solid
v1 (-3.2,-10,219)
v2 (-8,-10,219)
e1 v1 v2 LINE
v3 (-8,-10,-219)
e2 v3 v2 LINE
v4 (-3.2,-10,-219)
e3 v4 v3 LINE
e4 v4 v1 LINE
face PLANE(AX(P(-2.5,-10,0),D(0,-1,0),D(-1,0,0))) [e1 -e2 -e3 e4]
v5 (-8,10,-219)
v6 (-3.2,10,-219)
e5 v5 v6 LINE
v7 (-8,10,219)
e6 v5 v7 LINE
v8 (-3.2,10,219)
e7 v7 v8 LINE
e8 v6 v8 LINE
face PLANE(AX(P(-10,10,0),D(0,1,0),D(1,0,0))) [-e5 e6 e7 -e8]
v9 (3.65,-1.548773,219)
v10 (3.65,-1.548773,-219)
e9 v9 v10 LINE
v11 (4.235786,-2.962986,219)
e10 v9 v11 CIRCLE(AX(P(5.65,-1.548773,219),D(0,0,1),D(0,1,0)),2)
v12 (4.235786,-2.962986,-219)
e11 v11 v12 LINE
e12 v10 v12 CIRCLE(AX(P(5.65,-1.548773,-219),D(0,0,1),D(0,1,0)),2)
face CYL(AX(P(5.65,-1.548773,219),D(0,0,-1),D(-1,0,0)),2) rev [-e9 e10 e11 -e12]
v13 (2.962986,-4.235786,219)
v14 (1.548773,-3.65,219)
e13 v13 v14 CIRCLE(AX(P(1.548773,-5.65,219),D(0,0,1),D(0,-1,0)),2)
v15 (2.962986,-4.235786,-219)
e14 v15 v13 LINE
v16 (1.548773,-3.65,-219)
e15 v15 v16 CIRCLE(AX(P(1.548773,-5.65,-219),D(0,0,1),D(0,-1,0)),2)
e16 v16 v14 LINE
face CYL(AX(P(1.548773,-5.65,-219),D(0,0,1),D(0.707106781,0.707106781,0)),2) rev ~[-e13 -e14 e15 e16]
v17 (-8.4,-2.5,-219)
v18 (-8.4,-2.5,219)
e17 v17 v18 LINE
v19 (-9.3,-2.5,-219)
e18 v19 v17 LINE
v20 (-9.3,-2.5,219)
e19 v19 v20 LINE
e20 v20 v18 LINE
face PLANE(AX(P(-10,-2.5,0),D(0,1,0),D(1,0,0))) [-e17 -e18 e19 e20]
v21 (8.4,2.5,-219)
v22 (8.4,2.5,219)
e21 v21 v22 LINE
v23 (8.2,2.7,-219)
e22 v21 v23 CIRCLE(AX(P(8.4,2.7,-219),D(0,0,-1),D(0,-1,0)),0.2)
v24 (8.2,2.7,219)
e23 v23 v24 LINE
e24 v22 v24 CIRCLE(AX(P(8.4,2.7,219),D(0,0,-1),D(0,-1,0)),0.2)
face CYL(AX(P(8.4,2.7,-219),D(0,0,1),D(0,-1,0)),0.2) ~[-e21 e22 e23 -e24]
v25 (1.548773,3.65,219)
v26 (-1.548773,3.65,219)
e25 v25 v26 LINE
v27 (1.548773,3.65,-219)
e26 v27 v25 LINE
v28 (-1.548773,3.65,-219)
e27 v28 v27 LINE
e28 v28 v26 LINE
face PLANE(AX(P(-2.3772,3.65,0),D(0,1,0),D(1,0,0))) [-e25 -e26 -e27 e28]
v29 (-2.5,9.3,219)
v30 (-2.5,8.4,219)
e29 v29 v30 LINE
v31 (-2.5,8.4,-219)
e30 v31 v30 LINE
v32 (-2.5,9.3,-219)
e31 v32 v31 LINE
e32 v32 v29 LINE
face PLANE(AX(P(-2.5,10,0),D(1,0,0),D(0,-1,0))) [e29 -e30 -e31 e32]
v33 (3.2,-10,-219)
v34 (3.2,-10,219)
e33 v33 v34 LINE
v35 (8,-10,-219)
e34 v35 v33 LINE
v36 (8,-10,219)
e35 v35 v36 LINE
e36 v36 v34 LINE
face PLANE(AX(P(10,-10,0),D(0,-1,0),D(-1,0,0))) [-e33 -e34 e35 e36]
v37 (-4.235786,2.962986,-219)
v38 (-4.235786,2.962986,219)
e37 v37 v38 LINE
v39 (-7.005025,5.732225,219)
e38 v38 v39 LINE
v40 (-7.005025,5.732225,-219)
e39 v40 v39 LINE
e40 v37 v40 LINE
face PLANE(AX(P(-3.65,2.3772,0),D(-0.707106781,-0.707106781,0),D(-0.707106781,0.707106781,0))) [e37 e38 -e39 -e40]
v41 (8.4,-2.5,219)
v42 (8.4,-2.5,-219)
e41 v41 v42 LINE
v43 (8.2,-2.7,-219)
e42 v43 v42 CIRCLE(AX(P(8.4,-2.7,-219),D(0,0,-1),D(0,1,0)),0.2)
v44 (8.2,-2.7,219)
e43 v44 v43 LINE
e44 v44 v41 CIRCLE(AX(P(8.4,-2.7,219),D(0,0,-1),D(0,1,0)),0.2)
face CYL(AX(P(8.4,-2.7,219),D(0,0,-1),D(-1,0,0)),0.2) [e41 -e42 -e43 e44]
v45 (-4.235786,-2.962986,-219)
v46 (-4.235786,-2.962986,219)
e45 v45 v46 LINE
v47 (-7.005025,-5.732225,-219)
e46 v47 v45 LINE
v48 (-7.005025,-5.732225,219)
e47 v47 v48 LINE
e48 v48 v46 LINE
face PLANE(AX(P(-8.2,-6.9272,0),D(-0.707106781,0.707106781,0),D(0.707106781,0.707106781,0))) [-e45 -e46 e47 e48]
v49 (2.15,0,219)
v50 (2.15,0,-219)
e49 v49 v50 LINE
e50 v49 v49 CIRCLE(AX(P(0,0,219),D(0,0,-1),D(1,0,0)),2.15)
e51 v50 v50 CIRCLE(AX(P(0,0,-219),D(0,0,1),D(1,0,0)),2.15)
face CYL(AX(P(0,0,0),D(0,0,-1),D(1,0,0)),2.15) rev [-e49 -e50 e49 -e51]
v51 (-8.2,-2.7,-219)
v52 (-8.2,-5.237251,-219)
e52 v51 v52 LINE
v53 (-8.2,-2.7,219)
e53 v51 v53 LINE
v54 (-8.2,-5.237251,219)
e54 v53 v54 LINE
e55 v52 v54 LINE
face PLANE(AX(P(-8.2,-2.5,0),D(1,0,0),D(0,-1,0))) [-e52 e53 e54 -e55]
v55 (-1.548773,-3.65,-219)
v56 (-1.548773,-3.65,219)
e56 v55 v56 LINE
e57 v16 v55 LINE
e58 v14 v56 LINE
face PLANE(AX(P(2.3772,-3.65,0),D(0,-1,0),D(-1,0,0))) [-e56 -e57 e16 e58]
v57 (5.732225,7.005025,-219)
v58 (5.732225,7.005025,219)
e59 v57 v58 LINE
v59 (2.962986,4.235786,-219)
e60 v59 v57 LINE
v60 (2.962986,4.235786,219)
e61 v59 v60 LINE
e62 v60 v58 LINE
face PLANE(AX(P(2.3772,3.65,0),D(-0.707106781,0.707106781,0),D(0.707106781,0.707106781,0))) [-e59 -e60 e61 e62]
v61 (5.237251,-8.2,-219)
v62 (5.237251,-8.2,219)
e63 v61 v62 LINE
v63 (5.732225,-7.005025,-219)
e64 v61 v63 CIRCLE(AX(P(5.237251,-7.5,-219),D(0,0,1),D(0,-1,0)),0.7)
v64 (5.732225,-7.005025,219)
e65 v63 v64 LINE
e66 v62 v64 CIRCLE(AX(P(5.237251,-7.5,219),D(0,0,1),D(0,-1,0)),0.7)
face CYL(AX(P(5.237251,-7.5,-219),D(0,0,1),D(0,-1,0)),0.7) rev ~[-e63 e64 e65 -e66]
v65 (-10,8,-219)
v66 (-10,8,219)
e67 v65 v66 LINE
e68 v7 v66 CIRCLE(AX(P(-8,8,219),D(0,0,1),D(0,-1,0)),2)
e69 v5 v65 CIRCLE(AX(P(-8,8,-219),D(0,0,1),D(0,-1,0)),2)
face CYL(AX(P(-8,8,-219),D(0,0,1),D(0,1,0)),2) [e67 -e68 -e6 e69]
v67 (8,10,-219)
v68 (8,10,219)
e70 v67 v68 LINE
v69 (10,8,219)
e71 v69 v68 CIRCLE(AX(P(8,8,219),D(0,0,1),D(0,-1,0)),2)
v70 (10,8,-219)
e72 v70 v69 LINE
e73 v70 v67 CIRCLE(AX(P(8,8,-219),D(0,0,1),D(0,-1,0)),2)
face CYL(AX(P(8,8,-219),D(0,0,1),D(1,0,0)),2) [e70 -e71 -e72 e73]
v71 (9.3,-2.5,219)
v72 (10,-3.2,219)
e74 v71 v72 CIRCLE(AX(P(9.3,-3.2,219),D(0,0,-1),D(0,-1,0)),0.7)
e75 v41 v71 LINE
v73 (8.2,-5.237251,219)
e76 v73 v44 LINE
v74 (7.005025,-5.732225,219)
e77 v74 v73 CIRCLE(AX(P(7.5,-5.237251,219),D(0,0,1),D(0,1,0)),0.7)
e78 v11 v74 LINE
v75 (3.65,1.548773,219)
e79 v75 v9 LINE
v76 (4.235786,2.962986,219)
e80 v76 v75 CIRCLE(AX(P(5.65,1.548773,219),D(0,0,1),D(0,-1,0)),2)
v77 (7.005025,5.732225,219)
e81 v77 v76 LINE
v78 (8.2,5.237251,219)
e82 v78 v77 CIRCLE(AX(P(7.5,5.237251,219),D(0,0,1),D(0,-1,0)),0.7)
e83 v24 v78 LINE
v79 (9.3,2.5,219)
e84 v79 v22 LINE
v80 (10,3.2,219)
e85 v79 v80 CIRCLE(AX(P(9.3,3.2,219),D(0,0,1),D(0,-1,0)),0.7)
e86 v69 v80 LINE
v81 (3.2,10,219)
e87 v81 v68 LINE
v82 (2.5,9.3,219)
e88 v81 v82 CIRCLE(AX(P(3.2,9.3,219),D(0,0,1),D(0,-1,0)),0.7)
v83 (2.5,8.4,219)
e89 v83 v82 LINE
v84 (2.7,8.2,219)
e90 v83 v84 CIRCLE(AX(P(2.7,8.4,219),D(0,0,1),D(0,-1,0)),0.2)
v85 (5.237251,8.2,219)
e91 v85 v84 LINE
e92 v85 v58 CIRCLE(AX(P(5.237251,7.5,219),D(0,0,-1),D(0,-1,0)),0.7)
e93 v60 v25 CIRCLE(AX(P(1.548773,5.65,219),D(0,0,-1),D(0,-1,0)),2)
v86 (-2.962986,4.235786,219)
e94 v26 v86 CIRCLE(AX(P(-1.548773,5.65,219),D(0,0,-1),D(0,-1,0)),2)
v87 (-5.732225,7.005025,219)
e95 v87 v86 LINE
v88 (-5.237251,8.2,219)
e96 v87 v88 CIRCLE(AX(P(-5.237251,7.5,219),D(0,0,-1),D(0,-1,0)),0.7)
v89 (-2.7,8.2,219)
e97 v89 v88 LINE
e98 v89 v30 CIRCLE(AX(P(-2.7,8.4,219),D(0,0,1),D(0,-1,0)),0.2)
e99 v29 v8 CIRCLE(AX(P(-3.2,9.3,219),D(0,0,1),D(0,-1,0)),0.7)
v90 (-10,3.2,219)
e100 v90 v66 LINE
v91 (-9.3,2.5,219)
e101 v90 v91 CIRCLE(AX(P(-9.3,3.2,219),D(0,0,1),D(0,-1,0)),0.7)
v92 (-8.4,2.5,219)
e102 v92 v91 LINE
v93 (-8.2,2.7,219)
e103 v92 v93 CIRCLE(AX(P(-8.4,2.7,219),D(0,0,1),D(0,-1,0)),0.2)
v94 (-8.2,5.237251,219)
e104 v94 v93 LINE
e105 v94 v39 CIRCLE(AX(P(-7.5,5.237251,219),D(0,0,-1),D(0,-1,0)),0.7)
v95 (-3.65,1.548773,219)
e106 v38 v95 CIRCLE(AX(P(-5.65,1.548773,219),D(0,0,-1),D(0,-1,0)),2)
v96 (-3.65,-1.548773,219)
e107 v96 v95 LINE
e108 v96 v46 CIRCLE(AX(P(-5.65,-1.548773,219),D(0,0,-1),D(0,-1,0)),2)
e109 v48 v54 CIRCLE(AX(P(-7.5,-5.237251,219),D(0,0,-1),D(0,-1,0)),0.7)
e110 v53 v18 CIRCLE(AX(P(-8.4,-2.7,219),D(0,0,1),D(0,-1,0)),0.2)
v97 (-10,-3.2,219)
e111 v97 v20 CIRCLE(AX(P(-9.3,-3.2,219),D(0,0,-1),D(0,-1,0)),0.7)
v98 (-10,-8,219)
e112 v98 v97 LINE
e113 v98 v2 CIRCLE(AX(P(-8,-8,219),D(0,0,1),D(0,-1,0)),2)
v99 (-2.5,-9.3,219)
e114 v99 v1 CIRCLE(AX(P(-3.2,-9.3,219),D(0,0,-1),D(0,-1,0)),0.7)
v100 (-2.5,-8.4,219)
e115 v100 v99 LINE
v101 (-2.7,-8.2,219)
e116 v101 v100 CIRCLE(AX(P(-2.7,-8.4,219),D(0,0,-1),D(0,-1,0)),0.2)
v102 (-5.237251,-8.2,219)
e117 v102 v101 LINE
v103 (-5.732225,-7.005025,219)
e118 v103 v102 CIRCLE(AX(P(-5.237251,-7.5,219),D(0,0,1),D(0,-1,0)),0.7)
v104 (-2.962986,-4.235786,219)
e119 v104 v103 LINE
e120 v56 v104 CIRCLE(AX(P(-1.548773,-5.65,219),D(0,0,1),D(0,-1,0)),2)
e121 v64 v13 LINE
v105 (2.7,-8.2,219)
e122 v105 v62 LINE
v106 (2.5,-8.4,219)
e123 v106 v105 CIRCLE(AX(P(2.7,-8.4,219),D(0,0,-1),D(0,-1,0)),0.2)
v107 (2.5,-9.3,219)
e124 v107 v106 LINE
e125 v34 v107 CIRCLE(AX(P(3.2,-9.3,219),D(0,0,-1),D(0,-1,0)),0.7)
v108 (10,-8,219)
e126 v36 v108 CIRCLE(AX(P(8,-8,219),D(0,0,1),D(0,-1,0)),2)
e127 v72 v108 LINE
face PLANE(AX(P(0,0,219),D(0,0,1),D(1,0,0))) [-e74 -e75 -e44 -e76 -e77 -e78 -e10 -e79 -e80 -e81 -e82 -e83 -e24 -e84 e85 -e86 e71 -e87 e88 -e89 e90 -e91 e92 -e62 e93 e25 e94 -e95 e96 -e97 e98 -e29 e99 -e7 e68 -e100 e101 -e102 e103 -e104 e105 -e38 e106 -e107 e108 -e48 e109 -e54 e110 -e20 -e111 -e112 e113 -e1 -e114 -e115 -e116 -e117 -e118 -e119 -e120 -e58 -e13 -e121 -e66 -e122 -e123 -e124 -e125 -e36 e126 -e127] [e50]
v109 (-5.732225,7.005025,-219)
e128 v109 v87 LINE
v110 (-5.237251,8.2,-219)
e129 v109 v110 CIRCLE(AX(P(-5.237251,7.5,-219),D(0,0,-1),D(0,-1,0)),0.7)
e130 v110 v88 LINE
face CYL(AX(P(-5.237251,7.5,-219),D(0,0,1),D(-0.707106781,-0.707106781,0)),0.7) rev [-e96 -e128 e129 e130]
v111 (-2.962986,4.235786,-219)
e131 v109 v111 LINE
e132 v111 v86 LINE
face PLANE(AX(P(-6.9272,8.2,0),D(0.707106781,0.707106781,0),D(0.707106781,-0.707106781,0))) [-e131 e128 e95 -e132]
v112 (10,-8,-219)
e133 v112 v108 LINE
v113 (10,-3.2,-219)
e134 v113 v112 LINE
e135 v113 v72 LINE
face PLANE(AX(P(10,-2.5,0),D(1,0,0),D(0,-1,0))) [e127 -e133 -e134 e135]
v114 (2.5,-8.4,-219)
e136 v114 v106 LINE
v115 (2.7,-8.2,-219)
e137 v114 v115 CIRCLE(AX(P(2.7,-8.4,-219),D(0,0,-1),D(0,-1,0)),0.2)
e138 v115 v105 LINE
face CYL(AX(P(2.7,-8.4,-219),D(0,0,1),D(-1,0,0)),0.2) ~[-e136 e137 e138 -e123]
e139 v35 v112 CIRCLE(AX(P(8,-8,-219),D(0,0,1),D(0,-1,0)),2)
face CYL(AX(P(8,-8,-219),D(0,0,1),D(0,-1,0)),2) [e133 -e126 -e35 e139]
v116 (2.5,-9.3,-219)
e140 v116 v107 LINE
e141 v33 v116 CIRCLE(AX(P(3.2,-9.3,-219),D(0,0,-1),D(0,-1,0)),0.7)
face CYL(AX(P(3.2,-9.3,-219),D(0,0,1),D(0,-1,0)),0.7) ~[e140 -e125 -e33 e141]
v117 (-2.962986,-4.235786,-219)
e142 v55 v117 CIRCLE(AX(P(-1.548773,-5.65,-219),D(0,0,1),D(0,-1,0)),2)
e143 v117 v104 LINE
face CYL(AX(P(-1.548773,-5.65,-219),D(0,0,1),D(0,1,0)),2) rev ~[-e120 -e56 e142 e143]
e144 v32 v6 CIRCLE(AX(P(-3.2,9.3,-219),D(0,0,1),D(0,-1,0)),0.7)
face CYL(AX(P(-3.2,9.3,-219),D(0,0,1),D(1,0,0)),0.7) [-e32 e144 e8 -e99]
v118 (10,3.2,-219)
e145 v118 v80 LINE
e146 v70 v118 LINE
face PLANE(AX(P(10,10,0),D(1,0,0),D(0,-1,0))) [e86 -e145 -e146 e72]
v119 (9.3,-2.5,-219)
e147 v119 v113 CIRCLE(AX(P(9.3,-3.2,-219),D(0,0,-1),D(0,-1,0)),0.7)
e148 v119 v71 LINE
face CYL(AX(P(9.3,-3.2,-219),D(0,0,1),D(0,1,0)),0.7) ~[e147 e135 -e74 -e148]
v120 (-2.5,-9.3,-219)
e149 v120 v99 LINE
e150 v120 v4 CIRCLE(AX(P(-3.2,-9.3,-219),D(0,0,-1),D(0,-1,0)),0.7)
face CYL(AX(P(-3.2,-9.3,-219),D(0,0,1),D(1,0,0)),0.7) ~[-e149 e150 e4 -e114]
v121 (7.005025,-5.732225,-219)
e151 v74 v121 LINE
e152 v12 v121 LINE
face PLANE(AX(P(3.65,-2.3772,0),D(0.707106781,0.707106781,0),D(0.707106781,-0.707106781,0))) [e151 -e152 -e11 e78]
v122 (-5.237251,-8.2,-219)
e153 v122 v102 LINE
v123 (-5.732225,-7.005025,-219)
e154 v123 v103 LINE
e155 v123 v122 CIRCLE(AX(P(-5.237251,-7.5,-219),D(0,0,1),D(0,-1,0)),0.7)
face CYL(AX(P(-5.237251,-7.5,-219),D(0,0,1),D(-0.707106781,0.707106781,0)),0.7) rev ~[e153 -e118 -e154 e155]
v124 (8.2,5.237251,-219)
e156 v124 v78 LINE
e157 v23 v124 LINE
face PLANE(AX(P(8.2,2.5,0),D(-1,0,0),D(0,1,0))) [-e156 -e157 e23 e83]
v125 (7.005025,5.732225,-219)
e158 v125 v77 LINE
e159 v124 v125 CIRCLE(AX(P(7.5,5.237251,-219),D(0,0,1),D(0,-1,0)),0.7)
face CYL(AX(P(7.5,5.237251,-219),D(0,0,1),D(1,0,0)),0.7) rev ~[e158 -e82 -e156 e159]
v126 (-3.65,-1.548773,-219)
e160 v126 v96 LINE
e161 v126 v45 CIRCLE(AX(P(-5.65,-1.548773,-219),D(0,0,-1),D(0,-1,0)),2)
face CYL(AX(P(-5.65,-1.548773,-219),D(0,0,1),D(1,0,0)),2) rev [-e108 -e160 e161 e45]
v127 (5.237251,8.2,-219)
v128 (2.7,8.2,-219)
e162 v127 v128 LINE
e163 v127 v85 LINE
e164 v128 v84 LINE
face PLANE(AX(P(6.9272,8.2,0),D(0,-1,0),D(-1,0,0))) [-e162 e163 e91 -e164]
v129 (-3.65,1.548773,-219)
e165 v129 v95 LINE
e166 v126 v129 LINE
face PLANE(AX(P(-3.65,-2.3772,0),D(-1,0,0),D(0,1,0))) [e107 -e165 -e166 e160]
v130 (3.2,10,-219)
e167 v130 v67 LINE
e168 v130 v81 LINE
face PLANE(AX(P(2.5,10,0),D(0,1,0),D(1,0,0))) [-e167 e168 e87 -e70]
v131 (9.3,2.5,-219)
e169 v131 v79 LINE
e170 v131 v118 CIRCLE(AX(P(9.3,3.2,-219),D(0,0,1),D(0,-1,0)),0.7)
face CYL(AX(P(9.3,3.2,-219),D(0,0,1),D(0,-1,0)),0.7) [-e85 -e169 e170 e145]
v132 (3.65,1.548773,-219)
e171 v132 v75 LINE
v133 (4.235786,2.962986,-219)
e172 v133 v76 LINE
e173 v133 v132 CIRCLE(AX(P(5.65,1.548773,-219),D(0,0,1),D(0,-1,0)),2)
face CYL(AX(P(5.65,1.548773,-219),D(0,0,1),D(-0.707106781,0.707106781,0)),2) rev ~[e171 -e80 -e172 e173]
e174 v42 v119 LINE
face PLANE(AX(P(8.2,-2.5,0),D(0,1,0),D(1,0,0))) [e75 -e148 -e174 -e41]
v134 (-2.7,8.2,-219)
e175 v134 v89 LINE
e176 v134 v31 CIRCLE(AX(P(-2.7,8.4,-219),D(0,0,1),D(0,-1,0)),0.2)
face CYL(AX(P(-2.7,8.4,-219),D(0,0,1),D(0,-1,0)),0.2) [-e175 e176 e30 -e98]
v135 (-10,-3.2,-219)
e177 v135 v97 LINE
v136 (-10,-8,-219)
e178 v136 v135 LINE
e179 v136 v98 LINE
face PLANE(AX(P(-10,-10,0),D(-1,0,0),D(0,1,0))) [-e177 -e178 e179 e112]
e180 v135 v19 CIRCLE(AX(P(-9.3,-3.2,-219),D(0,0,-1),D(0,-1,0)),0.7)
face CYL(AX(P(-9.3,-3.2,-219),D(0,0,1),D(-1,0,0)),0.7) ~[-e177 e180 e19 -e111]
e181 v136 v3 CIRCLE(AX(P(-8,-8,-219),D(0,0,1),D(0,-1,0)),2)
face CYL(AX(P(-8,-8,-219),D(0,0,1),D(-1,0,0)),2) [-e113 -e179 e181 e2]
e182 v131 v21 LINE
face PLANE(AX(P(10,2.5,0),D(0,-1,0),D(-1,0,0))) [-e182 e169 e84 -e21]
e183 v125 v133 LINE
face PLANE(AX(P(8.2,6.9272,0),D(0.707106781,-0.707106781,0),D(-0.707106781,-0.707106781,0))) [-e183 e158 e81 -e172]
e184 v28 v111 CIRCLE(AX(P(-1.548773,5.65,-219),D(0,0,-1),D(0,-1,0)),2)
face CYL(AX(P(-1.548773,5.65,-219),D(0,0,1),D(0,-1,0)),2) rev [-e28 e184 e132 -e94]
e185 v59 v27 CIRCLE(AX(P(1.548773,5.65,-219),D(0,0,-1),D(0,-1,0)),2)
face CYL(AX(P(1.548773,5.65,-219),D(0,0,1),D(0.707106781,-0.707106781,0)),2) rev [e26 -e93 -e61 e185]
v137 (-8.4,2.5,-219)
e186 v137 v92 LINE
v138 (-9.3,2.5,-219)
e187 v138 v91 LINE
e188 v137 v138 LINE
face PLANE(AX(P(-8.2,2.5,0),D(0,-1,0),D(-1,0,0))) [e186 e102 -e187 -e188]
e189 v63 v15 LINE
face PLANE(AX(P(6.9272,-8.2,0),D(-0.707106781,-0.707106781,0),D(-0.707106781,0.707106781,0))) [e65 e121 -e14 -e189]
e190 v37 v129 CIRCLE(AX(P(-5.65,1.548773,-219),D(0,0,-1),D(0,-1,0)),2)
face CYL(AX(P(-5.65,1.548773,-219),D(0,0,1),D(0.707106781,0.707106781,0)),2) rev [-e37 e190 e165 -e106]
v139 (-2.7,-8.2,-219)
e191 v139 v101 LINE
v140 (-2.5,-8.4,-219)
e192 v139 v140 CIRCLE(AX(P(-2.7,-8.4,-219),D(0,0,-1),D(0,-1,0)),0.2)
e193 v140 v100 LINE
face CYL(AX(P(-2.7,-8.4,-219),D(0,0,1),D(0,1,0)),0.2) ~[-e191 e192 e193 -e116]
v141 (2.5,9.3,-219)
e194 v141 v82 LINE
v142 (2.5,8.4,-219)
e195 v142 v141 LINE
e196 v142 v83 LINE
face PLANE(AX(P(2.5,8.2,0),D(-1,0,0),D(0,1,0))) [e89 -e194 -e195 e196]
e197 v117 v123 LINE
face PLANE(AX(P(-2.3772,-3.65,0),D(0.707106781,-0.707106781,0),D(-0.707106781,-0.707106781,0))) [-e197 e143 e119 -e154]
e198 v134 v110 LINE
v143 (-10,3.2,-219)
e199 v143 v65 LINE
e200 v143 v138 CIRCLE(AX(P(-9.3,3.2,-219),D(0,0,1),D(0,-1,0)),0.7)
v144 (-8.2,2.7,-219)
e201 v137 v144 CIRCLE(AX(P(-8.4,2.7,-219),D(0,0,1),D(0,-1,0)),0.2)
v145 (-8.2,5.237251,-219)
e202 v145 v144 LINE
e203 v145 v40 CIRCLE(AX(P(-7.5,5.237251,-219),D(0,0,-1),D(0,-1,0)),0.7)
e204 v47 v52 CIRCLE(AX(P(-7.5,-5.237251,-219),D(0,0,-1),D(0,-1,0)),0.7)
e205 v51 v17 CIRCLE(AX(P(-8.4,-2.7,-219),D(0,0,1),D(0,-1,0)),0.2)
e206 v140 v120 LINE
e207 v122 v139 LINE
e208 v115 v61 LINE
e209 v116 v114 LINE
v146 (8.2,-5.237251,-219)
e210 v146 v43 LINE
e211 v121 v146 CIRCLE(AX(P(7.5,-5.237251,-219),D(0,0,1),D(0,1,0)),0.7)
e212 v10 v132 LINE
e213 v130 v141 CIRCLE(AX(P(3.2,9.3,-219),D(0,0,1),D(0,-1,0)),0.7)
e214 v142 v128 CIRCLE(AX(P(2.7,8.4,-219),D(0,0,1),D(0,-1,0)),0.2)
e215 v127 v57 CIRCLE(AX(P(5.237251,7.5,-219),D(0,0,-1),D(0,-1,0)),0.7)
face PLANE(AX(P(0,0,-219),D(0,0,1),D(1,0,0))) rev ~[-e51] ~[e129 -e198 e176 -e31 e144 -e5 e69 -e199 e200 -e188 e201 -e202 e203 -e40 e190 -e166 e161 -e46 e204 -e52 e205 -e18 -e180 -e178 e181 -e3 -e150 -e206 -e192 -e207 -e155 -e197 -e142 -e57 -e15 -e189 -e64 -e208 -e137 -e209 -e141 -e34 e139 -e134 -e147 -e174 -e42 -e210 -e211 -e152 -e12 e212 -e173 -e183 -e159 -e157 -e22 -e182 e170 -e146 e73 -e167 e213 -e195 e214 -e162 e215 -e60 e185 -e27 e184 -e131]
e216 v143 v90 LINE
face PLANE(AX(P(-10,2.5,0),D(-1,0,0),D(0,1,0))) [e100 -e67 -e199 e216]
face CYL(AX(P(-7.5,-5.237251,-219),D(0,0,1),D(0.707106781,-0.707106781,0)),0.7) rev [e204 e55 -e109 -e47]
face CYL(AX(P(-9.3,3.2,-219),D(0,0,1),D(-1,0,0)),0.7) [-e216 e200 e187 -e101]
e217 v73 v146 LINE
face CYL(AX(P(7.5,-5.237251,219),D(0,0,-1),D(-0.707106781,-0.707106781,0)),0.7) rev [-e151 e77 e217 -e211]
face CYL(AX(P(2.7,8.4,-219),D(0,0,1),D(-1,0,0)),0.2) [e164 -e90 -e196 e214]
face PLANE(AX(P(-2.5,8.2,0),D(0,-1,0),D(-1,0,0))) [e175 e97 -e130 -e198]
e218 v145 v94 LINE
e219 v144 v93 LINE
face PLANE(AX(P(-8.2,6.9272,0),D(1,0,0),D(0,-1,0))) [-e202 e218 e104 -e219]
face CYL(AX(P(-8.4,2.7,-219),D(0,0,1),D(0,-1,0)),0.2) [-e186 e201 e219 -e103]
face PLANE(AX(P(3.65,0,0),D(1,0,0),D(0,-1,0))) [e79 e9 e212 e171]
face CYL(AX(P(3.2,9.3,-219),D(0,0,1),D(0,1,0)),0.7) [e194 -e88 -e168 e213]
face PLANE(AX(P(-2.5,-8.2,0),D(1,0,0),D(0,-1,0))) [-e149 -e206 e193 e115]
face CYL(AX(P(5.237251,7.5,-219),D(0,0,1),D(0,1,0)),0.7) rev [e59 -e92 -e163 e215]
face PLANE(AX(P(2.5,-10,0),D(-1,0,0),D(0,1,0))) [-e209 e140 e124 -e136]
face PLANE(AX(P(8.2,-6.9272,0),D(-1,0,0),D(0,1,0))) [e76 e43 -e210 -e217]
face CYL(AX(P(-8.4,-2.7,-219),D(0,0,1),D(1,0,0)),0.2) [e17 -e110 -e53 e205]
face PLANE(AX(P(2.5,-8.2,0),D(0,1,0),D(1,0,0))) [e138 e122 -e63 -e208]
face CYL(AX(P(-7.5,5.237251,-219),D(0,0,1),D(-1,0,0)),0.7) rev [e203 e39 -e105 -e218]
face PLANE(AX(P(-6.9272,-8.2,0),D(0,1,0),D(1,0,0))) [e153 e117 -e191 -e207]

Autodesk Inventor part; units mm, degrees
ref_plane "YZ Plane" through (0, 0, 0) normal (1, 0, 0) x (0, 1, 0)
ref_plane "XZ Plane" through (0, 0, 0) normal (0, 1, 0) x (-1, 0, 0)
ref_plane "XY Plane" through (0, 0, 0) normal (0, 0, 1) x (1, 0, 0)
sketch "Sketch1" plane through (0, 0, 0) normal (0, 0, 1) x (1, 0, 0)
  circle A0 centre (0, 0) radius 2.15
  line L0 (-10, 10) -> (-2.5, 10)
  line L1 (-2.5, 10) -> (-2.5, 8.2)
  line L2 (-2.5, 8.2) -> (-6.9272, 8.2)
  line L3 (-6.9272, 8.2) -> (-2.3772, 3.65)
  line L4 (-2.3772, 3.65) -> (2.3772, 3.65)
  line L5 (2.3772, 3.65) -> (6.9272, 8.2)
  line L6 (6.9272, 8.2) -> (2.5, 8.2)
  line L7 (2.5, 8.2) -> (2.5, 10)
  line L8 (2.5, 10) -> (10, 10)
  line L9 (10, 10) -> (10, 2.5)
  line L10 (10, 2.5) -> (8.2, 2.5)
  line L11 (8.2, 2.5) -> (8.2, 6.9272)
  line L12 (8.2, 6.9272) -> (3.65, 2.3772)
  line L13 (3.65, 2.3772) -> (3.65, -2.3772)
  line L14 (3.65, -2.3772) -> (8.2, -6.9272)
  line L15 (8.2, -6.9272) -> (8.2, -2.5)
  line L16 (8.2, -2.5) -> (10, -2.5)
  line L17 (10, -2.5) -> (10, -10)
  line L18 (10, -10) -> (2.5, -10)
  line L19 (2.5, -10) -> (2.5, -8.2)
  line L20 (2.5, -8.2) -> (6.9272, -8.2)
  line L21 (6.9272, -8.2) -> (2.3772, -3.65)
  line L22 (2.3772, -3.65) -> (-2.3772, -3.65)
  line L23 (-2.3772, -3.65) -> (-6.9272, -8.2)
  line L24 (-6.9272, -8.2) -> (-2.5, -8.2)
  line L25 (-2.5, -8.2) -> (-2.5, -10)
  line L26 (-2.5, -10) -> (-10, -10)
  line L27 (-10, -10) -> (-10, -2.5)
  line L28 (-10, -2.5) -> (-8.2, -2.5)
  line L29 (-8.2, -2.5) -> (-8.2, -6.9272)
  line L30 (-8.2, -6.9272) -> (-3.65, -2.3772)
  line L31 (-3.65, -2.3772) -> (-3.65, 2.3772)
  line L32 (-3.65, 2.3772) -> (-8.2, 6.9272)
  line L33 (-8.2, 6.9272) -> (-8.2, 2.5)
  line L34 (-8.2, 2.5) -> (-10, 2.5)
  line L35 (-10, 2.5) -> (-10, 10)
  line L36 (0, 0) -> (-30.8654, 30.8654)
  line L37 (0, 0) -> (30.8654, 30.8654)
  line L38 (0, 0) -> (42.5392, 0)
  line L39 (0, 0) -> (0, 44.3419)
  dimension "d0" = 45
  dimension "d1" = 90
  dimension "Breite" = 20
  dimension "Tiefe_Schiene" = 6.35
  dimension "d2" = 1.8
  dimension "Durchmesser_Loch" = 4.3
  dimension "Wandstaerke" = 1.8
  dimension "d3" = 1.8
  dimension "Breite_Schiene" = 5
  dimension "d4" = 5
extrude "Extrusion1" add sketch "Sketch1" along normal mid plane 438 contours L38 L13 L14 L15 L16 L17 L18 L19 L20 L21 L22 L23 L24 L25 L26 L27 L28 L29 L30 L31 L32 L33 L34 L35 L36 A0 | A0 L37 L9 L10 L11 L12 L13 L38 | A0 L39 L4 L5 L6 L7 L8 L37 | L36 L0 L1 L2 L3 L4 L39 A0
fillet "Fillet1" radius 2 4 edges at (10, 10, 0) (-10, 10, 0) (10, -10, 0) (-10, -10, 0)
fillet "Fillet2" radius 0.2 8 edges at (-2.5, 8.2, 0) (2.5, 8.2, 0) (8.2, 2.5, 0) (8.2, -2.5, 0) (-2.5, -8.2, 0) (-8.2, -2.5, 0) (-8.2, 2.5, 0) (2.5, -8.2, 0)
fillet "Fillet3" radius 0.7 16 edges at (-2.5, 10, 0) (2.5, 10, 0) (10, 2.5, 0) (10, -2.5, 0) (2.5, -10, 0) (-2.5, -10, 0) (-10, -2.5, 0) (-10, 2.5, 0) (-6.9272, -8.2, 0) (-8.2, -6.9272, 0) (6.9272, -8.2, 0) (8.2, -6.9272, 0) (8.2, 6.9272, 0) (6.9272, 8.2, 0) (-6.9272, 8.2, 0) (-8.2, 6.9272, 0)
fillet "Fillet4" radius 2 8 edges at (-3.65, 2.3772, 0) (-2.3772, 3.65, 0) (2.3772, 3.65, 0) (3.65, 2.3772, 0) (3.65, -2.3772, 0) (2.3772, -3.65, 0) (-2.3772, -3.65, 0) (-3.65, -2.3772, 0)
equation "\"d2\" = Wandstaerke"
equation "\"d3\" = Wandstaerke"
equation "\"d4\" = Breite_Schiene"
properties part number "501.015.01_ITEM_20x20_510mm"
